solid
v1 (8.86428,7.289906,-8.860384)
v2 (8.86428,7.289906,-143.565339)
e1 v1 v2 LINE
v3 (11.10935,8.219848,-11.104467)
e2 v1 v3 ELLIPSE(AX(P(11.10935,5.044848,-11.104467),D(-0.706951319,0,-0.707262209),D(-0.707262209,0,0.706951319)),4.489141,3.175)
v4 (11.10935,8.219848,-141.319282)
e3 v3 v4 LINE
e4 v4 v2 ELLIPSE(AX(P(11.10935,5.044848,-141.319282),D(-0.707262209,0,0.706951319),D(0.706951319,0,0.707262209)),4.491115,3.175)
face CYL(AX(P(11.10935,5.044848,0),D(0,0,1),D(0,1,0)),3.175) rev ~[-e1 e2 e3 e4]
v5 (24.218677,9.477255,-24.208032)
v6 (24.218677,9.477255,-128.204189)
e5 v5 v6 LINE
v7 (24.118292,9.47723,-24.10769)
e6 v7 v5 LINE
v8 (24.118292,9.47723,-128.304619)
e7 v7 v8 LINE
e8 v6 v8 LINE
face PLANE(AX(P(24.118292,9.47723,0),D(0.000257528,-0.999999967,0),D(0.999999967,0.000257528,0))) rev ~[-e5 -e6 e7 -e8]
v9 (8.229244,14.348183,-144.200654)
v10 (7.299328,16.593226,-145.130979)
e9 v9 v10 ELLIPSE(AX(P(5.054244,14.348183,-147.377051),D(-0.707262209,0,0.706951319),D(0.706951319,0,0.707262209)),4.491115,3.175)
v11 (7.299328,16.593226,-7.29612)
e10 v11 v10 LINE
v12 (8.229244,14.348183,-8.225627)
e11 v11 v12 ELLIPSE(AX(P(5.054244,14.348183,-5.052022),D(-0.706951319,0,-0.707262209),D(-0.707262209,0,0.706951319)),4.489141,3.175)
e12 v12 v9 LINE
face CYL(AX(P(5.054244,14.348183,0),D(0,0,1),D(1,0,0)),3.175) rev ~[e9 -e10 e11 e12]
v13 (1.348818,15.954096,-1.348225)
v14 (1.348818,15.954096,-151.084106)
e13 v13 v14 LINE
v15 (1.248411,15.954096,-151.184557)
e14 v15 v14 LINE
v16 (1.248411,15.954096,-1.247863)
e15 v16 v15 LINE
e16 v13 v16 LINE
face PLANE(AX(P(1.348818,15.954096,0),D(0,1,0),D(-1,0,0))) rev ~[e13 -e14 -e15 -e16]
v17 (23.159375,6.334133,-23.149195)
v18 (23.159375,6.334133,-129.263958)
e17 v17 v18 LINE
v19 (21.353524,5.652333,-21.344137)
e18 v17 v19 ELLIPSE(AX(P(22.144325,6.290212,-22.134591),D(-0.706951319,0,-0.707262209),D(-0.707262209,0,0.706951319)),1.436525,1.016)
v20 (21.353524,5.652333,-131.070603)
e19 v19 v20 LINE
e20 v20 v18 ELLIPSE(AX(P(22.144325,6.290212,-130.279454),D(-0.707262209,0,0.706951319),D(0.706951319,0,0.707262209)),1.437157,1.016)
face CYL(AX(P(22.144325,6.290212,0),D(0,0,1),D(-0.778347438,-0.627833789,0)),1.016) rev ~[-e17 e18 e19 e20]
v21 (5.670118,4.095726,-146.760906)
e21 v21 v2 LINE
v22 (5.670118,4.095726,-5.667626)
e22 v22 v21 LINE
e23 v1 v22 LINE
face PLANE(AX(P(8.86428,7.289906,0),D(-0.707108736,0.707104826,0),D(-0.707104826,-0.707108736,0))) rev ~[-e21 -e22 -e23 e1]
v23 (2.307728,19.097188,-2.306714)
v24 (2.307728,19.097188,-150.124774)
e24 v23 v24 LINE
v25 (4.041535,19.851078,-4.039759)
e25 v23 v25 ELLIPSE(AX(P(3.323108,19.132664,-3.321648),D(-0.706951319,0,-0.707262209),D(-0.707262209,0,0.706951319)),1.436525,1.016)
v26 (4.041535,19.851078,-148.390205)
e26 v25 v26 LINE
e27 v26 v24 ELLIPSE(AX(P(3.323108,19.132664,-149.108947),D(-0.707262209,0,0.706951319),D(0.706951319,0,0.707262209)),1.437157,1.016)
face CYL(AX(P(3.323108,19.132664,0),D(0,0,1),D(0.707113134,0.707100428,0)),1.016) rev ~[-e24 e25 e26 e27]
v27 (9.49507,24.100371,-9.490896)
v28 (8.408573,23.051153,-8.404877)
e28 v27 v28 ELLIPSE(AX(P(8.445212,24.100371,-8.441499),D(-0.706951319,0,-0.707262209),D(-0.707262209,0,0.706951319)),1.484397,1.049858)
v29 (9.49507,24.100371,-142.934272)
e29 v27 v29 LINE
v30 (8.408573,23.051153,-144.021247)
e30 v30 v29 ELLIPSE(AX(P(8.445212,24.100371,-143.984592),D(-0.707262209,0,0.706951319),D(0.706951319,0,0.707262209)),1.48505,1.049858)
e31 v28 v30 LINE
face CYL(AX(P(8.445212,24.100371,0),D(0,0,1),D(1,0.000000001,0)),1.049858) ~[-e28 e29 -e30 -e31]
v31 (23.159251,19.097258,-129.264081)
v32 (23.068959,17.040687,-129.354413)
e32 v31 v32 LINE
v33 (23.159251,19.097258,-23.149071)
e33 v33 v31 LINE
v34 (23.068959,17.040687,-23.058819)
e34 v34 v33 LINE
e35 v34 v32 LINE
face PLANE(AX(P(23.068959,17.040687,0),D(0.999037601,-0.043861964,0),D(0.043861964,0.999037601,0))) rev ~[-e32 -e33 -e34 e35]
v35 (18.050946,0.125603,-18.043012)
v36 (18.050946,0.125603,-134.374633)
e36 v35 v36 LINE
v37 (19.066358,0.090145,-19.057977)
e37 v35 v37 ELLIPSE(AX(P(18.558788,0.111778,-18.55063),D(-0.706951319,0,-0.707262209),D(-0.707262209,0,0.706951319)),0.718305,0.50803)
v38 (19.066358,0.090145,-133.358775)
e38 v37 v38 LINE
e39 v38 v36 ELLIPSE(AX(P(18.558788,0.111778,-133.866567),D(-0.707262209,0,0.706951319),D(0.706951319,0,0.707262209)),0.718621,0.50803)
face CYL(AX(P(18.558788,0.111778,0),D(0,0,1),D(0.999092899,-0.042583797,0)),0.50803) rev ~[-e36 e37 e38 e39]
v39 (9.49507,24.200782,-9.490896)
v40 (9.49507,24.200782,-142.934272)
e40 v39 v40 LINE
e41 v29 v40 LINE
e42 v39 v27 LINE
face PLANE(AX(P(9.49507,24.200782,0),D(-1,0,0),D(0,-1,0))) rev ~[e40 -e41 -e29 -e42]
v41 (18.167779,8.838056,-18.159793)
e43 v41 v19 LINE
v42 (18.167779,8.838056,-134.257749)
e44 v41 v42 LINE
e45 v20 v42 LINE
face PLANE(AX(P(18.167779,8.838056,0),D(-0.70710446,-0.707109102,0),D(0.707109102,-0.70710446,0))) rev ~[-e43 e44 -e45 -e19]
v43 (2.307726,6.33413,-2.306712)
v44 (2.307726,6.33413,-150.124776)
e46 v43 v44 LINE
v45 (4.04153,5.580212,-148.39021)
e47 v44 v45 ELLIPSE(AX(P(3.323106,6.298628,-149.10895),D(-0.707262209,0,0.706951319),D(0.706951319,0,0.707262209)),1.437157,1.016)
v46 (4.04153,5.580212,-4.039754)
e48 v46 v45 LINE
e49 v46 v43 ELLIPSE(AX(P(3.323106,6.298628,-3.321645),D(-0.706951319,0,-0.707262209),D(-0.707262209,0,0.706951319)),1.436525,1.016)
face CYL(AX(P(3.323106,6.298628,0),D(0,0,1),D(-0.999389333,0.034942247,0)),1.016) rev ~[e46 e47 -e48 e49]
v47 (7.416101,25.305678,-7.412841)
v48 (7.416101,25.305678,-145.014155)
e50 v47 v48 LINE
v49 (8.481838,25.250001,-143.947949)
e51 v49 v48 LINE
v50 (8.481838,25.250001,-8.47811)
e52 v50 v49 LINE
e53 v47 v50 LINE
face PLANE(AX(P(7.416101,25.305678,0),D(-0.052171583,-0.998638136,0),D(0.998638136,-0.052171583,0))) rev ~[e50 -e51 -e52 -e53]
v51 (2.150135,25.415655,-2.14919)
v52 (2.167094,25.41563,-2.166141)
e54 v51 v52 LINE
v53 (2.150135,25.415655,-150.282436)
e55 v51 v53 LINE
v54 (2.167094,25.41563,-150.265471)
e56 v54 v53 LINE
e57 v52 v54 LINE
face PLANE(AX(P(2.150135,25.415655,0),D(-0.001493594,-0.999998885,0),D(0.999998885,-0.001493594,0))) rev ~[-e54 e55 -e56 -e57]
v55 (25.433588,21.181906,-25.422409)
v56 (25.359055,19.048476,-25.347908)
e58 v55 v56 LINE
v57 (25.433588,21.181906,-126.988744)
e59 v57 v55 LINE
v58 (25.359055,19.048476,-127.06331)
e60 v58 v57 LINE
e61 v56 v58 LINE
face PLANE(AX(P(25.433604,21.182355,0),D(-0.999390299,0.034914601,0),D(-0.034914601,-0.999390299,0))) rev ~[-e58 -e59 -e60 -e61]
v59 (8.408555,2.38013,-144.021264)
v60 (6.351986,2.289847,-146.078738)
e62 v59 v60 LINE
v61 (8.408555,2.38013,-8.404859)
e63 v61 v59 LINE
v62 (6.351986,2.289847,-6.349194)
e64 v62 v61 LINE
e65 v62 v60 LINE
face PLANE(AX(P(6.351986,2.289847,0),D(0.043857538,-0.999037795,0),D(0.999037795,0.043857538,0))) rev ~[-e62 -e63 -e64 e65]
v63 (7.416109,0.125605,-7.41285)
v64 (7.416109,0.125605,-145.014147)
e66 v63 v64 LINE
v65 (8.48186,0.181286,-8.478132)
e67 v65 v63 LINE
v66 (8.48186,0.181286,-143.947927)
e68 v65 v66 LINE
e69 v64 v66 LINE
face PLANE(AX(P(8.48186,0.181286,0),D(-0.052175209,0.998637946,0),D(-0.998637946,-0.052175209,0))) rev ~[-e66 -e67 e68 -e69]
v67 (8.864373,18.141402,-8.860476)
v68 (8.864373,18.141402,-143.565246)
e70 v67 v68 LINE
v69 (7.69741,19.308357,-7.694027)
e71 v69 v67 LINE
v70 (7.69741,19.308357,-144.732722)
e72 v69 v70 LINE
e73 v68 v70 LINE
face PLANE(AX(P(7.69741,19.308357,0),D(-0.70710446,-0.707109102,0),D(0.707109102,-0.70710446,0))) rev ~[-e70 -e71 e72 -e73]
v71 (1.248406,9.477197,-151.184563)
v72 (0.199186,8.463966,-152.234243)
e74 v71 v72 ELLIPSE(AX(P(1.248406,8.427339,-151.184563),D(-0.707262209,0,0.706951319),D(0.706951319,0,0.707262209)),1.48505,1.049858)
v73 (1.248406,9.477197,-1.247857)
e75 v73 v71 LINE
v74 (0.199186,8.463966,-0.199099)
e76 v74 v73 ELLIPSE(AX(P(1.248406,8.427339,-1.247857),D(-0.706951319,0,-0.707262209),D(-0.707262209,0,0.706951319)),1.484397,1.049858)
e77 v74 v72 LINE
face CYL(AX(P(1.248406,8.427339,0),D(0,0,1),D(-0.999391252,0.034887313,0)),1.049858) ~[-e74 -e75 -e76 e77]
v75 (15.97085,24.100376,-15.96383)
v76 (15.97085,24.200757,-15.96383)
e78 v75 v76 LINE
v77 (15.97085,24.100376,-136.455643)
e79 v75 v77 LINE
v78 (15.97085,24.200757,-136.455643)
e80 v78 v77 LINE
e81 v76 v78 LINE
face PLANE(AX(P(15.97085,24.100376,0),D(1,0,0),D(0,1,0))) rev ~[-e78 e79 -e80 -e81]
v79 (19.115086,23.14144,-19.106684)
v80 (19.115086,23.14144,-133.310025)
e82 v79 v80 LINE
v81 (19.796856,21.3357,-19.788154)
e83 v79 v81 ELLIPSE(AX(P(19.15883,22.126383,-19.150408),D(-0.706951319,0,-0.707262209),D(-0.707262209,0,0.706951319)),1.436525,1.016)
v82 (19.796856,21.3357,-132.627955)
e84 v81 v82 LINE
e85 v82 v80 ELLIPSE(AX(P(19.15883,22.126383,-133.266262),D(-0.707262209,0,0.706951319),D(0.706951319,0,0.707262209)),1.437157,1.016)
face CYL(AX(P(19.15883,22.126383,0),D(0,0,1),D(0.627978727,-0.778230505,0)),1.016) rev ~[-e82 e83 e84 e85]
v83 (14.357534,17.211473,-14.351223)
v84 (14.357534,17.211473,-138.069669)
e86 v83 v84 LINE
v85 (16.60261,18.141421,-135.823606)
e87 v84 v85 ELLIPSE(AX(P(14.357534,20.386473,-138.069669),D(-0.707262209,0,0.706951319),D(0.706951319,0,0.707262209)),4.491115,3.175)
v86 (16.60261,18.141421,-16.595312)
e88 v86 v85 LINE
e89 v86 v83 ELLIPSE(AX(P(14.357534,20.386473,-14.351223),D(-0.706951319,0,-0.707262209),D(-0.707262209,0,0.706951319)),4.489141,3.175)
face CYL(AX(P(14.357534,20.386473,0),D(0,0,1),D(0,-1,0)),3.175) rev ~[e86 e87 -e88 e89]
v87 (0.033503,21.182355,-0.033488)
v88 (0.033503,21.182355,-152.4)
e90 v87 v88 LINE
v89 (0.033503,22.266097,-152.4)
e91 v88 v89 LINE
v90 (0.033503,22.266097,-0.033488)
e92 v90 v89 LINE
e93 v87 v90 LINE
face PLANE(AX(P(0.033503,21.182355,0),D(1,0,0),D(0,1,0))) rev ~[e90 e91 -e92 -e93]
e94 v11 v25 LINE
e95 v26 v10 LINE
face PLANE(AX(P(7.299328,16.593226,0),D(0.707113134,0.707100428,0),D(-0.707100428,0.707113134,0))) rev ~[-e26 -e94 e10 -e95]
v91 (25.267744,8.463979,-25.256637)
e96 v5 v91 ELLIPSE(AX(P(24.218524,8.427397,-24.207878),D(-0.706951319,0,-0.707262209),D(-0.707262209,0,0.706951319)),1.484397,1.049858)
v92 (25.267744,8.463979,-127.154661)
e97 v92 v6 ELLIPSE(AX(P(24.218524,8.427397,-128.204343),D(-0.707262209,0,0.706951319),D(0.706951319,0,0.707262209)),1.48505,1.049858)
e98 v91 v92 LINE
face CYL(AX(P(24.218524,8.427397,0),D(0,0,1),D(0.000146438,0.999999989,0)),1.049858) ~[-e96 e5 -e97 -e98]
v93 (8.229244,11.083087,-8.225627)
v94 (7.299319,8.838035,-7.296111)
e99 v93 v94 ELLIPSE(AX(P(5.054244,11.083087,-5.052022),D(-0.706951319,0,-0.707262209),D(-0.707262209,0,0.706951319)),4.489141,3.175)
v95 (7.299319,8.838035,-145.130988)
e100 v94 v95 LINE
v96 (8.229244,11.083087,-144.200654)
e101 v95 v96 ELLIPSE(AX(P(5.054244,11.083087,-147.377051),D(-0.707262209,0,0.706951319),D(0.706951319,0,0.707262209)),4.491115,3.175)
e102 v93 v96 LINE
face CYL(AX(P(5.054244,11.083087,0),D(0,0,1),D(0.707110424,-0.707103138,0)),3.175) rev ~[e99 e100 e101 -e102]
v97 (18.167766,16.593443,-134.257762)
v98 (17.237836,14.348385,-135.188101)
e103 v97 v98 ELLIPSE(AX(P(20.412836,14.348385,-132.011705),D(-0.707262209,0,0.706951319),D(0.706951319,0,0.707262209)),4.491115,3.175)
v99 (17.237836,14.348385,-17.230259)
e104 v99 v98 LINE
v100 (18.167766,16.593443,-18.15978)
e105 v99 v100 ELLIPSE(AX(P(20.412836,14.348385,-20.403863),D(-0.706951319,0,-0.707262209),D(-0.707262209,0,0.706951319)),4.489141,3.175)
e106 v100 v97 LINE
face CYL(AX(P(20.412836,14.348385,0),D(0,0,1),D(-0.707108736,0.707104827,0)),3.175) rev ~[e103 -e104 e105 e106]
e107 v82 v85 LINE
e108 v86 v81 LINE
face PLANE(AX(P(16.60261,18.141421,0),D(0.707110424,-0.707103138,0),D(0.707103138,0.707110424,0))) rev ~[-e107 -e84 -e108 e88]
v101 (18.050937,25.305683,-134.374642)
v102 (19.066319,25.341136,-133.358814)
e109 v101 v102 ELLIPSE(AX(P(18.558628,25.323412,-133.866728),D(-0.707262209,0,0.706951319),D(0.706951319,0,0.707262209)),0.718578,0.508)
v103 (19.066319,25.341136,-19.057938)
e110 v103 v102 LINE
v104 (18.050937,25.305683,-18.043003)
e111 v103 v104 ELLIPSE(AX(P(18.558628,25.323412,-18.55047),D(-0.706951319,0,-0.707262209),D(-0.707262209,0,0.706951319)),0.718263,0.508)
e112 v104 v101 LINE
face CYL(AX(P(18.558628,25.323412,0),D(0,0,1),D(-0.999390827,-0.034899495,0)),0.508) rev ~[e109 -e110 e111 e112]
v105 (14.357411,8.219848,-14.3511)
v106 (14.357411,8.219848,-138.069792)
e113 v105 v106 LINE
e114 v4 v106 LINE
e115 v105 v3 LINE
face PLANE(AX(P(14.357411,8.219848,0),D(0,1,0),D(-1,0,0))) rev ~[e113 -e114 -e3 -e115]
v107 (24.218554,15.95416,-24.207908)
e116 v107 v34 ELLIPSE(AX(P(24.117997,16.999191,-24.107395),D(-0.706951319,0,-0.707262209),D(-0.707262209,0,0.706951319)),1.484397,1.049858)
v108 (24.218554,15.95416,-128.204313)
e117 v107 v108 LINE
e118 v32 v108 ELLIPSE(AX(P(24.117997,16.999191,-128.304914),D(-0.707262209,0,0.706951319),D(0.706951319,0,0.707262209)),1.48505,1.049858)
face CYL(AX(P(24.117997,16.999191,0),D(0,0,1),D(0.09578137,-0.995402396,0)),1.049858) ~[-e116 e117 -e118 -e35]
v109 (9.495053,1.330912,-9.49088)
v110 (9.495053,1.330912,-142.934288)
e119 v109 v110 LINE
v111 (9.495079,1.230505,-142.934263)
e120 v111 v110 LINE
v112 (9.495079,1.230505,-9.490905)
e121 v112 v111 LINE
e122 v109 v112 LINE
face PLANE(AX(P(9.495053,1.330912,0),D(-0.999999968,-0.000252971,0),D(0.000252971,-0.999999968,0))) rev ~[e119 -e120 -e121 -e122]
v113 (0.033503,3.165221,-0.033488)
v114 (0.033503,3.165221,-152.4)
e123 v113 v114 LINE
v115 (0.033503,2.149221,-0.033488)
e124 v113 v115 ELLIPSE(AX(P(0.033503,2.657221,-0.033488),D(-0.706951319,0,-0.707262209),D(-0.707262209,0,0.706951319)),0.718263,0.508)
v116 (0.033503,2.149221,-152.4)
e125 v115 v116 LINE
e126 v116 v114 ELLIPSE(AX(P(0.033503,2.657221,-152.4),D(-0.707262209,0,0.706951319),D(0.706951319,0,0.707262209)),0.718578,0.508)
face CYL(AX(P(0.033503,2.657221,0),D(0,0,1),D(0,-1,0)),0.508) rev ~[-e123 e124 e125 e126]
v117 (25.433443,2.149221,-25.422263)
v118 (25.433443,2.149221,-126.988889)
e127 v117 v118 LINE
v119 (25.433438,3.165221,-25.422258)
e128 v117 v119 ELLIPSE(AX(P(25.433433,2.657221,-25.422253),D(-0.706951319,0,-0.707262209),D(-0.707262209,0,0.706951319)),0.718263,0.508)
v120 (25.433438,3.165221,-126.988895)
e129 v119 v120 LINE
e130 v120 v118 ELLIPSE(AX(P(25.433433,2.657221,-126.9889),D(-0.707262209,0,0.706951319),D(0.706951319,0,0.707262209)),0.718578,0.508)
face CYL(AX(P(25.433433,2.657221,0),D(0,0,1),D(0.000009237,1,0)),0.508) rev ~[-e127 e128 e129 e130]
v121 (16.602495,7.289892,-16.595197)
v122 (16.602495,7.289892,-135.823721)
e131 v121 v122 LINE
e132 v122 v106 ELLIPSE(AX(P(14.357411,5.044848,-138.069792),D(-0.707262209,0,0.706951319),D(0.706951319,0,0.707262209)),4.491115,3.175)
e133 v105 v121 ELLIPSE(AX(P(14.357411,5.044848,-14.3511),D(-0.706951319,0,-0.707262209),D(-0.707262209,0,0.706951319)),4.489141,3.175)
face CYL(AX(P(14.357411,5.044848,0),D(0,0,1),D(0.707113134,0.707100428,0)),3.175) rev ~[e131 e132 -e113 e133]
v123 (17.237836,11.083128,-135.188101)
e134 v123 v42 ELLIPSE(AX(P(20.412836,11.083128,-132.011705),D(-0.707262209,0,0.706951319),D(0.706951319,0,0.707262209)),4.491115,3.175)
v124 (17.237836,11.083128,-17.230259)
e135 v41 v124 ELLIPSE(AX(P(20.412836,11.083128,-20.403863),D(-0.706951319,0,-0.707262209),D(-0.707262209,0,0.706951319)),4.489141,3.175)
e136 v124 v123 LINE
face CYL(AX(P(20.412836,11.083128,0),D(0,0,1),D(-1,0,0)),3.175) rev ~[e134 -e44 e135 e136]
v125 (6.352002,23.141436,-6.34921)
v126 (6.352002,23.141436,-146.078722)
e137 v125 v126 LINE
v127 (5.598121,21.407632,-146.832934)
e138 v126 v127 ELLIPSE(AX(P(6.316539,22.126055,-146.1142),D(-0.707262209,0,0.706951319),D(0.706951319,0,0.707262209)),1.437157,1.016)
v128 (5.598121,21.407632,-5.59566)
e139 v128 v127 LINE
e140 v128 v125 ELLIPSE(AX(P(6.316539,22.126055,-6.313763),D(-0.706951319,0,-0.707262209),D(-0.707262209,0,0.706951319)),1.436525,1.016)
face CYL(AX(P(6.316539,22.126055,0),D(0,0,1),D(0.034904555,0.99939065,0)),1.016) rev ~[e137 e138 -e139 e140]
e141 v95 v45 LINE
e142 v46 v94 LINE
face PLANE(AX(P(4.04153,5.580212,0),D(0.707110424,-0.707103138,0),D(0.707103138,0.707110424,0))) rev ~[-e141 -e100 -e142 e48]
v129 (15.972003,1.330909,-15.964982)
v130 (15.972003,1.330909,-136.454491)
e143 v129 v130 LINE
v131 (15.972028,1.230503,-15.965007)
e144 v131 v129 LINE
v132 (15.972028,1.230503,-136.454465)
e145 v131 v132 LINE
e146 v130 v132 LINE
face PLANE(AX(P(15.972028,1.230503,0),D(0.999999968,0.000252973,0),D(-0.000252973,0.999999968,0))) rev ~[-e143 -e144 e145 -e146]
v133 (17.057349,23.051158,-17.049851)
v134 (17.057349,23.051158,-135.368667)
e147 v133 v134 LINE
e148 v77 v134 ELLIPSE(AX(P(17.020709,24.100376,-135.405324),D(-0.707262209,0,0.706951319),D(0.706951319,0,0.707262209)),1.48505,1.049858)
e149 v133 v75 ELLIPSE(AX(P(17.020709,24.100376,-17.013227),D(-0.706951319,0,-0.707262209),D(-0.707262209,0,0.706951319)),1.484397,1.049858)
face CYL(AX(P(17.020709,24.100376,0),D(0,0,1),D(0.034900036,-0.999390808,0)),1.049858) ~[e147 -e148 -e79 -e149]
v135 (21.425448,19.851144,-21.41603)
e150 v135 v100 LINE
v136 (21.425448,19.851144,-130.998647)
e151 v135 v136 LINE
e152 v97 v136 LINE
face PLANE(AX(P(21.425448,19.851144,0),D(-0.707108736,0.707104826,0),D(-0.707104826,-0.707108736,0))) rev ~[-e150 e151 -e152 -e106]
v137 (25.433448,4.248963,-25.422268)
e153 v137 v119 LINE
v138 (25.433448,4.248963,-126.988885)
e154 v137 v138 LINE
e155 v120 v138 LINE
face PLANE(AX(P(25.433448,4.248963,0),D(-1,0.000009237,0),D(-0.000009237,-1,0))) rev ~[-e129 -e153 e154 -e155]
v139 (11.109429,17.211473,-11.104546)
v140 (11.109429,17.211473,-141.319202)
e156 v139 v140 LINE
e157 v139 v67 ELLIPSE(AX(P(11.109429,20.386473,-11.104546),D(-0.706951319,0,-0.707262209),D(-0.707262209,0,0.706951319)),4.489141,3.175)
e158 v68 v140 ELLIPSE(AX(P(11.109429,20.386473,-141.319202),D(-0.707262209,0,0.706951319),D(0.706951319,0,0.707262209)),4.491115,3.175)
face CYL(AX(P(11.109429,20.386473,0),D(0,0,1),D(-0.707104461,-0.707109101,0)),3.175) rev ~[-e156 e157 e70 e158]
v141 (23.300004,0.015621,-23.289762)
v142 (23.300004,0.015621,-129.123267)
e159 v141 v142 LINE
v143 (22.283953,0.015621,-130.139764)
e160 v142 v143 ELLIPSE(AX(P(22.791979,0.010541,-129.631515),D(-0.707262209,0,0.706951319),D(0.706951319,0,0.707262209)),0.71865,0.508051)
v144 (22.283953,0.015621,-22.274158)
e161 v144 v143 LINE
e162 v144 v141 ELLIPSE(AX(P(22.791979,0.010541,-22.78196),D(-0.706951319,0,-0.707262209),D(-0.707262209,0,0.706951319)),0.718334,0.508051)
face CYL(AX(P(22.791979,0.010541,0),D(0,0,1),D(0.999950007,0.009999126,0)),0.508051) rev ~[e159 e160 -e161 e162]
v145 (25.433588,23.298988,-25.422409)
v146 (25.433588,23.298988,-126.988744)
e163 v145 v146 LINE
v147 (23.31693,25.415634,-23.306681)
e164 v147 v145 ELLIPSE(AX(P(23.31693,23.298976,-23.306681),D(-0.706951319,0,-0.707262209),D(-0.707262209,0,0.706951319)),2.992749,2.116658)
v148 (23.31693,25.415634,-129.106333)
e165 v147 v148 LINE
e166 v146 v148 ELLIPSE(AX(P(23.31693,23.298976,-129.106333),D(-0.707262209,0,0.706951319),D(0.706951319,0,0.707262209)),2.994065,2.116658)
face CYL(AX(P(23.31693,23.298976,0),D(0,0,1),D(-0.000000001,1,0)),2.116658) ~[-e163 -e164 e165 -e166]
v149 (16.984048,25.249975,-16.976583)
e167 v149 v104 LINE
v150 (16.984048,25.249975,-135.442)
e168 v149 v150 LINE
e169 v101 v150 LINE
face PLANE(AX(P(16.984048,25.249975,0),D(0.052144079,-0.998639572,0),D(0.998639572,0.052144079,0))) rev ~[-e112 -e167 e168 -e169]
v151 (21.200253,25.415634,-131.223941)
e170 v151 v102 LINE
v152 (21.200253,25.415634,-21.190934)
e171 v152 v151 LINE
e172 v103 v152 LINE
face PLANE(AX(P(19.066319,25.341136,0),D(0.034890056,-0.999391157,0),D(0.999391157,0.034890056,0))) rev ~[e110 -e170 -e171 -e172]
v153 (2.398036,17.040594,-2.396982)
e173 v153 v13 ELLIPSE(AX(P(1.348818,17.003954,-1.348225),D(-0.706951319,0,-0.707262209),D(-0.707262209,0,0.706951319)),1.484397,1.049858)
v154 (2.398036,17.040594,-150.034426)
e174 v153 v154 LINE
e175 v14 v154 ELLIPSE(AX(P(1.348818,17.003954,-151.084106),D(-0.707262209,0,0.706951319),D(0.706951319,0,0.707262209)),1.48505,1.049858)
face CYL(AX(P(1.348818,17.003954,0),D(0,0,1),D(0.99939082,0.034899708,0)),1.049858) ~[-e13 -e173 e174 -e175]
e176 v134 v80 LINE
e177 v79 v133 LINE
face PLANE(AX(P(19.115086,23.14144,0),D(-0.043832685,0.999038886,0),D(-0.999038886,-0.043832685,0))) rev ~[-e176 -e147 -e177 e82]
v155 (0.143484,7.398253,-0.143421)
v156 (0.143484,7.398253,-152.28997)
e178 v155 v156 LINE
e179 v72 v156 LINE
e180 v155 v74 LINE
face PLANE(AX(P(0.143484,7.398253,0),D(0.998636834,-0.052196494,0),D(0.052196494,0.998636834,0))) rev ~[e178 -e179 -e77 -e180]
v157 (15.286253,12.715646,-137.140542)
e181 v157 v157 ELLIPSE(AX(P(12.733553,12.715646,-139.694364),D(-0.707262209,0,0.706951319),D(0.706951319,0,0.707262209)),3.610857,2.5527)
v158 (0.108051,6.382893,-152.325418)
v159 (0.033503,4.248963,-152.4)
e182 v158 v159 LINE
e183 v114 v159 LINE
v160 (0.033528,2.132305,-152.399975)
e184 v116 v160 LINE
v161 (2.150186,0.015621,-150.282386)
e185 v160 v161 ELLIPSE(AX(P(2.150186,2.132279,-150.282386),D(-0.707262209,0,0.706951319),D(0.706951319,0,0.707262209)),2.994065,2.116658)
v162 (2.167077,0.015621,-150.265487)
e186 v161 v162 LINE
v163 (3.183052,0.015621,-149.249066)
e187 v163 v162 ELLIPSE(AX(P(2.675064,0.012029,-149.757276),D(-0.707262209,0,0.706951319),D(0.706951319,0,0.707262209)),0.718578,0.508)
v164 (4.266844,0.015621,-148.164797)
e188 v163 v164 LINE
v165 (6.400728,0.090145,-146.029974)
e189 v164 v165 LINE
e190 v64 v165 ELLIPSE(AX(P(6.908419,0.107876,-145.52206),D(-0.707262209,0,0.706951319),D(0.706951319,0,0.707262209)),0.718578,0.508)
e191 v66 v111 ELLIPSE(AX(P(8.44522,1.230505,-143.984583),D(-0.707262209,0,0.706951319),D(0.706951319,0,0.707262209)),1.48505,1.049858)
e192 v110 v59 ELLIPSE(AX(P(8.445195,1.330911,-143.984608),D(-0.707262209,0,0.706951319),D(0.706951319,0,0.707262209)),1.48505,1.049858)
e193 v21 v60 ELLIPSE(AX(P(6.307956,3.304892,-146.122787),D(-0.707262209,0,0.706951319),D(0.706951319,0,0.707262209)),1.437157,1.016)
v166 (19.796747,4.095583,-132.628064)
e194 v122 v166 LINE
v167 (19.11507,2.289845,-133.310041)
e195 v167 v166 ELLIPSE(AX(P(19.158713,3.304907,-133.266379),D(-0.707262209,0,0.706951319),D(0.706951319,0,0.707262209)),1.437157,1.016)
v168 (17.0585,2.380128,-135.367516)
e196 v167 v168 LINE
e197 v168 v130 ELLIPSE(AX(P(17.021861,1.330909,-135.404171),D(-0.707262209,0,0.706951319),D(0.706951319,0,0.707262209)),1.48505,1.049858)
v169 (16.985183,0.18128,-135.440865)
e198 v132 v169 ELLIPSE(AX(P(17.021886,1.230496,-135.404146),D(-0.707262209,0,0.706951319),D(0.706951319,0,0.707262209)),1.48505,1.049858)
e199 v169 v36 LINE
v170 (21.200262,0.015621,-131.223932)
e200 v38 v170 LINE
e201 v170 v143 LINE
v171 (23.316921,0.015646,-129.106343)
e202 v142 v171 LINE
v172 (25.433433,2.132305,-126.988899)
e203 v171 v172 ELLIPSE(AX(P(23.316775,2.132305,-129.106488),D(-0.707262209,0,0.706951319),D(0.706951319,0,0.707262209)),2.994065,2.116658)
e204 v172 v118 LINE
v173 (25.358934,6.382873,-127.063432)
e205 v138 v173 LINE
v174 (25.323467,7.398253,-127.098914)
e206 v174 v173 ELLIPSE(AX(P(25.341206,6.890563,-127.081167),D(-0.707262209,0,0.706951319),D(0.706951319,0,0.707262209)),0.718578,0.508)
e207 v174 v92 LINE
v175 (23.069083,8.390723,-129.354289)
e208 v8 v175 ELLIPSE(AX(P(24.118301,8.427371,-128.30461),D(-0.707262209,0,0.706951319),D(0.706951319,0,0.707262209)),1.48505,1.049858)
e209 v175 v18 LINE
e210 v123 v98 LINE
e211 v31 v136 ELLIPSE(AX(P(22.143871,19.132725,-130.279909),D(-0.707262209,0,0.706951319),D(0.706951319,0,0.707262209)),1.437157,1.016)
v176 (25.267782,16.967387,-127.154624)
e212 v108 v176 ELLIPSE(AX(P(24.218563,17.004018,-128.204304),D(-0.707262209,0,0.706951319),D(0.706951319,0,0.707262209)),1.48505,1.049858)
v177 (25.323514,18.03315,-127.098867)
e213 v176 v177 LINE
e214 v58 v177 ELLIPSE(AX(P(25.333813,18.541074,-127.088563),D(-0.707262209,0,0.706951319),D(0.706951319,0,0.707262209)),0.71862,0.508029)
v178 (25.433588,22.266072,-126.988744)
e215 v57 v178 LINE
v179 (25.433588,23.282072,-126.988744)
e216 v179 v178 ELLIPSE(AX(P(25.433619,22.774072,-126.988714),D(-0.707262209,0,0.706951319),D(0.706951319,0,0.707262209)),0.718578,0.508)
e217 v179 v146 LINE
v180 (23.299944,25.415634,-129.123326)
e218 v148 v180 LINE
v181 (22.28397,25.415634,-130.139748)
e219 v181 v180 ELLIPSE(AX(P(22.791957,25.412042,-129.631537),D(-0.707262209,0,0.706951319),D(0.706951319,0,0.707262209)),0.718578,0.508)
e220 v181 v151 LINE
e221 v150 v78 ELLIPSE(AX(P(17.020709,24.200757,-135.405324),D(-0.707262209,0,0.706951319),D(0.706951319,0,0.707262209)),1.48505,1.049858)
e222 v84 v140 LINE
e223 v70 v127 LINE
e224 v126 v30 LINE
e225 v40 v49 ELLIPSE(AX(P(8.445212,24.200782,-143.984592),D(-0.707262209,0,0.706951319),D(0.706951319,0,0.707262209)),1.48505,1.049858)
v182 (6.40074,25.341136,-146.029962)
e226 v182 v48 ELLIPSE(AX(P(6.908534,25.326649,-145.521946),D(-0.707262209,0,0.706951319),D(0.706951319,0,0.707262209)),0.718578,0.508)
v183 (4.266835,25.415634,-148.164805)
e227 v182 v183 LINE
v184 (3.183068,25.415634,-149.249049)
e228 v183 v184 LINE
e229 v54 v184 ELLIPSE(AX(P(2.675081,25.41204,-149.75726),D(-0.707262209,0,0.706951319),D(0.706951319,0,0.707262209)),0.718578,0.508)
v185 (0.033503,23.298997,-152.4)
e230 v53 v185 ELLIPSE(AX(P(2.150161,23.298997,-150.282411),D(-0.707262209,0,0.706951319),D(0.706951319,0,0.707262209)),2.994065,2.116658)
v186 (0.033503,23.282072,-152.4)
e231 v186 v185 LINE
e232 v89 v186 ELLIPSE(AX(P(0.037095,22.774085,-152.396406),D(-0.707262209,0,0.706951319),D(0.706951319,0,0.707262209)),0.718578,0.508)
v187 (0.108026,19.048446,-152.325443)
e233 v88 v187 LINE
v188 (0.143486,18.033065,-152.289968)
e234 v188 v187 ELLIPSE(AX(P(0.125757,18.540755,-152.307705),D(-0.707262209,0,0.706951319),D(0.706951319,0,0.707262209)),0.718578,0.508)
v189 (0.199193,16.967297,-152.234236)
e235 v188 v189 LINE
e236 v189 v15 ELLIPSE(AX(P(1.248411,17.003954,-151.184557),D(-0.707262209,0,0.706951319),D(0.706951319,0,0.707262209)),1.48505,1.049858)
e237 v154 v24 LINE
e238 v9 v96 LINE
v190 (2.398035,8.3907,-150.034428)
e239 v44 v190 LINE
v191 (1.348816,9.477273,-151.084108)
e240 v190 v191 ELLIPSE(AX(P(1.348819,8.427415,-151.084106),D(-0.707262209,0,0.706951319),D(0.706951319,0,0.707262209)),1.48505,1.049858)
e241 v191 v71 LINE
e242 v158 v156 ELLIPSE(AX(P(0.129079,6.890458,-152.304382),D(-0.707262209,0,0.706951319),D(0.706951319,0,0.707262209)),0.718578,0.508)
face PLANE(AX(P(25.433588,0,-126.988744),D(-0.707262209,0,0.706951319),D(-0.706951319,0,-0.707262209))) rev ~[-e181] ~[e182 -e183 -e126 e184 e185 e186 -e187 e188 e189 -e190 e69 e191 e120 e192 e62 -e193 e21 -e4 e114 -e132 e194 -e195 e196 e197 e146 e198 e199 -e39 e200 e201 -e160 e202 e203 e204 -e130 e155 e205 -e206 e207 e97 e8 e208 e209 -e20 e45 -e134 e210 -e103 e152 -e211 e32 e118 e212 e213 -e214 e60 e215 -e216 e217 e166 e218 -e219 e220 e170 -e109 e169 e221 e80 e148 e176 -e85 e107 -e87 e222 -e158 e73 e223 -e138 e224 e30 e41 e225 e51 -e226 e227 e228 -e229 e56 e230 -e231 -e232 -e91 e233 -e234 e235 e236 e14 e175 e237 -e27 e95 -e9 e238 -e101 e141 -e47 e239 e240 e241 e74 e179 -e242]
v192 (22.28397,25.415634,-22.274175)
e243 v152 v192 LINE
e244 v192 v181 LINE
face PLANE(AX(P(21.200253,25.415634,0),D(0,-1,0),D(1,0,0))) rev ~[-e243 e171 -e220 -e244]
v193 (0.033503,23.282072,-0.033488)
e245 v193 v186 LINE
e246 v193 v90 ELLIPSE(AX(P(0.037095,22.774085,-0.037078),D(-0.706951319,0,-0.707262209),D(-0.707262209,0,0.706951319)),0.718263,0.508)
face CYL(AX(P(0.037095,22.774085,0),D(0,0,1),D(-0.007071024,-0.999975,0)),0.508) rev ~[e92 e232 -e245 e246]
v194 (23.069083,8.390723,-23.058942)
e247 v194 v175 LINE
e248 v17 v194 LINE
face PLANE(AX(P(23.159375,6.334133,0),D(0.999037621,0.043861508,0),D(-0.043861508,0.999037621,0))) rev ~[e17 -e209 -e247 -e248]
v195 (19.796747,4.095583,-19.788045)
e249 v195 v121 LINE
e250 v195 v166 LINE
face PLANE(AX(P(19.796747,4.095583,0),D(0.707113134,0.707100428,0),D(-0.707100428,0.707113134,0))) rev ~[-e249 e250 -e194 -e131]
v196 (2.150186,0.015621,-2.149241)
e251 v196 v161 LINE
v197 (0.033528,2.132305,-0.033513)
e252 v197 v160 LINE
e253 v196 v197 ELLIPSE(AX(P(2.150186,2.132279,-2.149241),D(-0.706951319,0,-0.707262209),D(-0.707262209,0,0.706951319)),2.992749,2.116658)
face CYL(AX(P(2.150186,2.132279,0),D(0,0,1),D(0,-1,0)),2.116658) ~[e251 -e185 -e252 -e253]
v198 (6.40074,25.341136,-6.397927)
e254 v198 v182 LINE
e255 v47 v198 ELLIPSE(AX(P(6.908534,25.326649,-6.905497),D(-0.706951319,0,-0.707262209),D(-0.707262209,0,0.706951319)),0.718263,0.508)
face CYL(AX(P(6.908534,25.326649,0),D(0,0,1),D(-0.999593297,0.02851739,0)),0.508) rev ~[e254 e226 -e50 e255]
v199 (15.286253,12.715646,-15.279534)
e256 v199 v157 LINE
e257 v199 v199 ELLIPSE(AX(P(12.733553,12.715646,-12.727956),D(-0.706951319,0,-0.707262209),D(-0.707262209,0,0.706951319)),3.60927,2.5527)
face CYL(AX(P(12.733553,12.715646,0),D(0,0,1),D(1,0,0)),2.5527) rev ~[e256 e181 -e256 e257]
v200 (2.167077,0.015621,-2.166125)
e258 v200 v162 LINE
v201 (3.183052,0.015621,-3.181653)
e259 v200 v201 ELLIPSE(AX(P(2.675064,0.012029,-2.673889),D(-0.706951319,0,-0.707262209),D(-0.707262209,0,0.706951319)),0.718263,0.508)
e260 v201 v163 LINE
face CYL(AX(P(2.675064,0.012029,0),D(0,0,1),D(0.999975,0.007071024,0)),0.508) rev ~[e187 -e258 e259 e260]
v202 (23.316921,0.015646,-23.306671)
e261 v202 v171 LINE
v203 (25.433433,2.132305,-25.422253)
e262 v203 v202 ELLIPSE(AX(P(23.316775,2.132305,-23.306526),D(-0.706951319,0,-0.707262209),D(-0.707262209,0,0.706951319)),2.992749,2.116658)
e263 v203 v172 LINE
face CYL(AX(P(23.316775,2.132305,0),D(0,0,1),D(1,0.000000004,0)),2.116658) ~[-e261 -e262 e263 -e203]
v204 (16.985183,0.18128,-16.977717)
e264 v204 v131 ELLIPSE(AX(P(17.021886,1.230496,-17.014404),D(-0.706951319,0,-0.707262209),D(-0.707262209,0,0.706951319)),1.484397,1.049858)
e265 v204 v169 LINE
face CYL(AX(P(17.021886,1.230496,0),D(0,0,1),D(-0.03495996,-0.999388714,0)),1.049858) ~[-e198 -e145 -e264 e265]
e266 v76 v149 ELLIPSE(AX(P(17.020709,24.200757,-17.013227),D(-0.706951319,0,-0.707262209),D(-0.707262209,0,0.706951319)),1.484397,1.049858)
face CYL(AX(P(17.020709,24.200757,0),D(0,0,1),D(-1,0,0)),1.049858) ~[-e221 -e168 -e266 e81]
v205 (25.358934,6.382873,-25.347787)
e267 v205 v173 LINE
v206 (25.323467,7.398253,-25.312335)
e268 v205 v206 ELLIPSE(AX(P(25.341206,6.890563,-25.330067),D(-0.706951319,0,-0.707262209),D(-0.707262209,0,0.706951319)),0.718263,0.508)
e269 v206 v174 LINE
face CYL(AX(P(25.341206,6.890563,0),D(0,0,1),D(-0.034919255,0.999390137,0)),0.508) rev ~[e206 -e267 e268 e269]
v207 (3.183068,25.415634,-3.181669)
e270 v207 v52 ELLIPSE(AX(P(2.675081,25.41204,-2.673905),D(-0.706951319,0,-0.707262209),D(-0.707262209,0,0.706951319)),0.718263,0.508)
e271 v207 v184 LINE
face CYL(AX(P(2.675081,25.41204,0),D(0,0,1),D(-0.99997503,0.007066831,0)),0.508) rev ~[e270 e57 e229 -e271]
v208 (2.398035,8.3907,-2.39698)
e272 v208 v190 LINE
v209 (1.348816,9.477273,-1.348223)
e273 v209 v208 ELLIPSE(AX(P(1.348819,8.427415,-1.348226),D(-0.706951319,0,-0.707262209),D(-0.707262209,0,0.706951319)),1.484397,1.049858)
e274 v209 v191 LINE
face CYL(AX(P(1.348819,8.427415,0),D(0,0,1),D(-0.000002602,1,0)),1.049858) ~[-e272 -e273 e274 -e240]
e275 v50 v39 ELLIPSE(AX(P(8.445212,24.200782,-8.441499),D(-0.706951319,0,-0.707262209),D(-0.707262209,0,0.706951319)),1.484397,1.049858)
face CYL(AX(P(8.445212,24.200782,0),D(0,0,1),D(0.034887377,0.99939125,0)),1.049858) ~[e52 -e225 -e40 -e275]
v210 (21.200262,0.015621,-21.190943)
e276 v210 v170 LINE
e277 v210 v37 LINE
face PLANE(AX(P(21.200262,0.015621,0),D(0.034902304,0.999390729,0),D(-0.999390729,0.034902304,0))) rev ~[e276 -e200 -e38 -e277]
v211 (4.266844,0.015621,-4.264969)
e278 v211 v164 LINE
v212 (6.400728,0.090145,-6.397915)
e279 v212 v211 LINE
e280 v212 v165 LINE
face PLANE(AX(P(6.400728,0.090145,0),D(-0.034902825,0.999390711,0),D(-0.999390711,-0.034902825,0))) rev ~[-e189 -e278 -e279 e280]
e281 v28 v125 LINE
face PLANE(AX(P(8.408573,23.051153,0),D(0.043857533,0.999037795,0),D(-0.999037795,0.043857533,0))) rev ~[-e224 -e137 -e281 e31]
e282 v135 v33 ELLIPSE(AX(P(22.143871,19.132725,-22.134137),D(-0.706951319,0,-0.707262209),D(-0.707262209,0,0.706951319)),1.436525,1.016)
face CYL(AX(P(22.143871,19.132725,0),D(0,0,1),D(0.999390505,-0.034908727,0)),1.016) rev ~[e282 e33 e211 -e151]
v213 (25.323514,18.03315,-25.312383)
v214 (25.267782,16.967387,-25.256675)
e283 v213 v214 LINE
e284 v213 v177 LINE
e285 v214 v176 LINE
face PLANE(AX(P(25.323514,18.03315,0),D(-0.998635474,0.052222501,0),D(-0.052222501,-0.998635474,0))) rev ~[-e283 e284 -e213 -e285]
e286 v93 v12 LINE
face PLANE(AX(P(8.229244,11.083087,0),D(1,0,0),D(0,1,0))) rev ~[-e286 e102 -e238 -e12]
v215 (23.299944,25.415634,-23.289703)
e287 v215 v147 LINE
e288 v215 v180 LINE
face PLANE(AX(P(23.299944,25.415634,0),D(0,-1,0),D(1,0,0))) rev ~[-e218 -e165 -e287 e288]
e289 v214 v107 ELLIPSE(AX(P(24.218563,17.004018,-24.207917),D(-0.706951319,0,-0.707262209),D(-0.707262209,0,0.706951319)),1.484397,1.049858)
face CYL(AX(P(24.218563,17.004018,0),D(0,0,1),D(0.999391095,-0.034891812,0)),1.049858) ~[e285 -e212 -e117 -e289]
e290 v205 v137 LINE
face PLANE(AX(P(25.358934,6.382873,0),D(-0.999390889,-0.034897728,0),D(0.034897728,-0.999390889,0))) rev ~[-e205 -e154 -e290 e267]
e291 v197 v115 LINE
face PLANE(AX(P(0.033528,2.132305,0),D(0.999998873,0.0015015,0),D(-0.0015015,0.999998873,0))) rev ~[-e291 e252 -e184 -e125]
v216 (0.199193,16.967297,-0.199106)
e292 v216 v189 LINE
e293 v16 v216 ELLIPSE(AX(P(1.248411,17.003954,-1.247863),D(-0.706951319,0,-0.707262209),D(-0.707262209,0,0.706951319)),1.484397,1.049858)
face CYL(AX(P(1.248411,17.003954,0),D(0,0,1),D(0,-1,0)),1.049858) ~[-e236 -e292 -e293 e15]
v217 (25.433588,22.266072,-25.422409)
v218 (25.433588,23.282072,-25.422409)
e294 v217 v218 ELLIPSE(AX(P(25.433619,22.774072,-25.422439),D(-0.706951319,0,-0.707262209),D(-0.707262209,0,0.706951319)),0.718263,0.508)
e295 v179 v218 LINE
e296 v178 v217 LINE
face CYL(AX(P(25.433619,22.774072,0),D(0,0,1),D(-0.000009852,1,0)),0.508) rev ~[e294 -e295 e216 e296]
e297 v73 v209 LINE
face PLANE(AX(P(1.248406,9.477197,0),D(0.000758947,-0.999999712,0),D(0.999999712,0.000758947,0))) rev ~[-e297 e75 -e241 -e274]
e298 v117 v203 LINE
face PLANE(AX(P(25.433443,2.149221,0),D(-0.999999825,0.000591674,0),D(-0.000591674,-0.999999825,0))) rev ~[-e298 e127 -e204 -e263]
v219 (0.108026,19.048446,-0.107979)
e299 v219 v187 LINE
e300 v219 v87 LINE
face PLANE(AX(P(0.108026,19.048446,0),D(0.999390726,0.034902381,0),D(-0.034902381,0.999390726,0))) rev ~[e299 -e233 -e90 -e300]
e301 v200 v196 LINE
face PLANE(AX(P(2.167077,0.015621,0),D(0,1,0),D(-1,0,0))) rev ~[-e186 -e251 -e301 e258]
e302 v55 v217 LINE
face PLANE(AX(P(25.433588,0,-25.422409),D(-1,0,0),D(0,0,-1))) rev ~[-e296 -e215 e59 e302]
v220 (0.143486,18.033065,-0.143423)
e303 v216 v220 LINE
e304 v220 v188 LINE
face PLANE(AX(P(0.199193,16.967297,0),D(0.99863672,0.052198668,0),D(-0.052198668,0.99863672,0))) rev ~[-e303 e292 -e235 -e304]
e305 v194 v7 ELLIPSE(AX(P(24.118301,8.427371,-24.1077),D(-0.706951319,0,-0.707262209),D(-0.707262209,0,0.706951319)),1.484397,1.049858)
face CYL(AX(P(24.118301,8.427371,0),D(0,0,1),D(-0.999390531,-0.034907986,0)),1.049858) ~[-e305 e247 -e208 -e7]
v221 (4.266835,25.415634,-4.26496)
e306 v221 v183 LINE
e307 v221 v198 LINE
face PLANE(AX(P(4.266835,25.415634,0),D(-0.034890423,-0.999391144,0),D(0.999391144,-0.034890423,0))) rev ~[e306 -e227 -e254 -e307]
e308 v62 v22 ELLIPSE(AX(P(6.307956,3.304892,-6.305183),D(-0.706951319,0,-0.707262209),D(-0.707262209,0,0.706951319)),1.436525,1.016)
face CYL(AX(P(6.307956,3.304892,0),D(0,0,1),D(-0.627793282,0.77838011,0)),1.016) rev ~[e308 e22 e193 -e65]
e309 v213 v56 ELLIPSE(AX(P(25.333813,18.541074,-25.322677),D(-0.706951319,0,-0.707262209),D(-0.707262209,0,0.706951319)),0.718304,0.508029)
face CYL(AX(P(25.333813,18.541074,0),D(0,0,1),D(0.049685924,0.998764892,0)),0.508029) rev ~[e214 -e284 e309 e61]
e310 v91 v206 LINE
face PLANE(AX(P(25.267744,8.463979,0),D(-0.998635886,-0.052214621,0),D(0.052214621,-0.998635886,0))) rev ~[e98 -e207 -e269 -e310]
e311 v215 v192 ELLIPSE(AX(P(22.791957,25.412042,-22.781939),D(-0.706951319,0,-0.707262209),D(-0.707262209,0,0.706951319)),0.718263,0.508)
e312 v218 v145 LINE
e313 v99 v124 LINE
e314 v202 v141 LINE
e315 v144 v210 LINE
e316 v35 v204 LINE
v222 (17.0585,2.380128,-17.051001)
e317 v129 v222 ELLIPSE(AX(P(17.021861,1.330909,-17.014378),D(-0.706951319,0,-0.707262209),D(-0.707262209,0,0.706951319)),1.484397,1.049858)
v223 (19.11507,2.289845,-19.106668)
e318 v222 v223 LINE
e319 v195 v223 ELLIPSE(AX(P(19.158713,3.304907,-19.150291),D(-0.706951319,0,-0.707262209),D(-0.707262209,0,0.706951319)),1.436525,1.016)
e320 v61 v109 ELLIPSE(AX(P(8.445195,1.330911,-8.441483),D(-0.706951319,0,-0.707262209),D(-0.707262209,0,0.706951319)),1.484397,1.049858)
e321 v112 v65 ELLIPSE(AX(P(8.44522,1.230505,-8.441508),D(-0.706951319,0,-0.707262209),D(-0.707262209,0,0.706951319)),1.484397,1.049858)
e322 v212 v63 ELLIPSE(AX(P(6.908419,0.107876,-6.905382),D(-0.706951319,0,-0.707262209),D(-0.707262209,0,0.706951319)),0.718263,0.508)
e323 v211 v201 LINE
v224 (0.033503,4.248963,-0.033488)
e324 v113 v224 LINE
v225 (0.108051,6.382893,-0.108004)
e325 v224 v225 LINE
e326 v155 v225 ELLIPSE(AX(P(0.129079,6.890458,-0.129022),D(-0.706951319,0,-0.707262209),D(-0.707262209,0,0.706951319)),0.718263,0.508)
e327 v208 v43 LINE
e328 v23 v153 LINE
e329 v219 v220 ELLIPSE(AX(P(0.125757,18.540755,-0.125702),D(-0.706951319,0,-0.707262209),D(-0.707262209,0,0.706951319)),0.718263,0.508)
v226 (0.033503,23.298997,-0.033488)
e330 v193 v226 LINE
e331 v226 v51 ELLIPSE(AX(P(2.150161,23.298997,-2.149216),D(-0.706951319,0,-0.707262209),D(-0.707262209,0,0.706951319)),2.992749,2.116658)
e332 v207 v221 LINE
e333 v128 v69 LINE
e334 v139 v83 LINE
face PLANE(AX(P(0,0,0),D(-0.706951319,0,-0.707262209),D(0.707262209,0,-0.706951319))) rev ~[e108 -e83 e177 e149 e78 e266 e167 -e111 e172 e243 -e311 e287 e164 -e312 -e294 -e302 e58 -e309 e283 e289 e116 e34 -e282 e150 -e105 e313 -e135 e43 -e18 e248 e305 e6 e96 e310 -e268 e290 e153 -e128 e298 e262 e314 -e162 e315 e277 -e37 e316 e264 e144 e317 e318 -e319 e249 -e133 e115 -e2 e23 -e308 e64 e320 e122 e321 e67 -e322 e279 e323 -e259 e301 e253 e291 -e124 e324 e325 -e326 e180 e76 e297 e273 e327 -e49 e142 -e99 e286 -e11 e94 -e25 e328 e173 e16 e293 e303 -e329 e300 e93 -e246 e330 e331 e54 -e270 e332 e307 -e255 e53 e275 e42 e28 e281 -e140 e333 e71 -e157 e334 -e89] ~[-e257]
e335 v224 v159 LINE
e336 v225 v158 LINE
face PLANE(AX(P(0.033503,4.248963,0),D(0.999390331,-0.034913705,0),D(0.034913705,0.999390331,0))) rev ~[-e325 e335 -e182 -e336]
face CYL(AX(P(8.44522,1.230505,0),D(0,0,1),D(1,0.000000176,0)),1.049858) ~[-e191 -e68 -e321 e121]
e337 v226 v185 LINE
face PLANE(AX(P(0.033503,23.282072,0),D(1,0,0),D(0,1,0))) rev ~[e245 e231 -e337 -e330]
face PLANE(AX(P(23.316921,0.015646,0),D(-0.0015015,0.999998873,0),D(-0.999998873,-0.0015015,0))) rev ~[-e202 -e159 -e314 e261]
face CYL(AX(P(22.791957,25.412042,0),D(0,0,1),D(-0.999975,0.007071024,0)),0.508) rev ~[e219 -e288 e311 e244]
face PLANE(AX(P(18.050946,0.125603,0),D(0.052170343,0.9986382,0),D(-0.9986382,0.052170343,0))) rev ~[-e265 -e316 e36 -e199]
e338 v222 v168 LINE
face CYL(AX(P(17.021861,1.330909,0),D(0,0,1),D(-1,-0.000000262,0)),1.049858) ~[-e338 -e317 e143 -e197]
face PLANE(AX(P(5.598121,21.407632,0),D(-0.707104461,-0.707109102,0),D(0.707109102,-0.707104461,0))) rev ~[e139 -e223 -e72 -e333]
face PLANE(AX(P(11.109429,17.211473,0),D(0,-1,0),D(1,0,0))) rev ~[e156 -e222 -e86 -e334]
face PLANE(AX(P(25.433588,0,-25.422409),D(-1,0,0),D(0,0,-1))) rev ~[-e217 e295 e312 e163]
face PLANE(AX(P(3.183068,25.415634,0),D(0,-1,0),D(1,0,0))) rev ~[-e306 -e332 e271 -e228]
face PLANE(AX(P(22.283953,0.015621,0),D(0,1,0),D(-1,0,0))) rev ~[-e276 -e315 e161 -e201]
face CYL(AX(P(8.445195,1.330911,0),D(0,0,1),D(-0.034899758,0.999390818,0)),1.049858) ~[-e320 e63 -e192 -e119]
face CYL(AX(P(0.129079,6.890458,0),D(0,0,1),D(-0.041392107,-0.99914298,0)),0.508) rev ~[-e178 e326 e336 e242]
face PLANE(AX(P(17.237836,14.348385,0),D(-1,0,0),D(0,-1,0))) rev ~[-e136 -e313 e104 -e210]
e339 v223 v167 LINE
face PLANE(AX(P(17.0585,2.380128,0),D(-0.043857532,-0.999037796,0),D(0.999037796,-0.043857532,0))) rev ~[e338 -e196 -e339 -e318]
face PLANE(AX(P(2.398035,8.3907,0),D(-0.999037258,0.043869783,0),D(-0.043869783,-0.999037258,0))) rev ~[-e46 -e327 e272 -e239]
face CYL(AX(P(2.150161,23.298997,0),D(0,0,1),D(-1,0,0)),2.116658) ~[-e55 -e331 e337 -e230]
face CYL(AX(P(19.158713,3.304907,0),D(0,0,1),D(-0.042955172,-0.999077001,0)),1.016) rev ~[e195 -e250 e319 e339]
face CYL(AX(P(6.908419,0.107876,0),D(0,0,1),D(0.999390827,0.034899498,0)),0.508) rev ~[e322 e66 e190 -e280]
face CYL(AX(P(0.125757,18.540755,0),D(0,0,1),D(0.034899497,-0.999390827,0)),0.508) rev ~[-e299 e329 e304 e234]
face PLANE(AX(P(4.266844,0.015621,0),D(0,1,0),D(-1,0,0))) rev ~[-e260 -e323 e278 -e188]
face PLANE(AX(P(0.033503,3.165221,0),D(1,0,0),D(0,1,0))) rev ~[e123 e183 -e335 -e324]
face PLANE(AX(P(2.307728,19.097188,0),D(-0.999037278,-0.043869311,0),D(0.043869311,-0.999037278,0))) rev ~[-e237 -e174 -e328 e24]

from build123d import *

# Parameters (mm, degrees)
SKETCH1_R          = 2.5527
EXTRUDE1_DEPTH     = 1219.2
SKETCH2_OUTSIDE_W  = 271.346
SKETCH2_OUTSIDE_H  = 1465.146
CUT_EXTRUDE2_DEPTH = 26.415655275


with BuildPart() as part:
    # Sketch1 → Extrude1 (new body)
    with BuildSketch(Plane.XY):
        with BuildLine():
            Line((25.433443131, 2.149221002), (25.433433122, 2.132304602))
            ThreePointArc((25.433433122, 2.132304602), (24.81352977, 0.635652711), (23.316920529, 0.0156464))
            Line((23.316920529, 0.0156464), (23.300004129, 0.015621))
            ThreePointArc((23.300004129, 0.015621), (22.791978729, 0.518591735), (22.283953329, 0.015621))
            Line((22.283953329, 0.015621), (21.200262329, 0.015621))
            Line((21.200262329, 0.015621), (19.066357529, 0.0901446))
            ThreePointArc((19.066357529, 0.0901446), (18.57651791, 0.619499034), (18.050946389, 0.125602744))
            Line((18.050946389, 0.125602744), (16.985183129, 0.1812798))
            ThreePointArc((16.985183129, 0.1812798), (16.266656931, 0.501228728), (15.972027929, 1.230503))
            Line((15.972027929, 1.230503), (15.972002529, 1.330908925))
            ThreePointArc((15.972002529, 1.330908925), (16.292567692, 2.086113746), (17.058499831, 2.380127869))
            Line((17.058499831, 2.380127869), (19.115070367, 2.28984489))
            ThreePointArc((19.115070367, 2.28984489), (20.109237927, 2.946078438), (19.79674691, 4.095583101))
            Line((19.79674691, 4.095583101), (16.602495326, 7.289892083))
            ThreePointArc((16.602495326, 7.289892083), (15.5724442, 7.978160281), (14.357411125, 8.219848224))
            Line((14.357411125, 8.219848224), (12.733578665, 8.219848224))
            Line((12.733578665, 8.219848224), (11.109350265, 8.219848224))
            ThreePointArc((11.109350265, 8.219848224), (9.894326313, 7.97816406), (8.864280029, 7.289906048))
            Line((8.864280029, 7.289906048), (5.670118065, 4.095726424))
            ThreePointArc((5.670118065, 4.095726424), (5.357454926, 2.946), (6.351985959, 2.289846732))
            Line((6.351985959, 2.289846732), (8.408555268, 2.380129669))
            ThreePointArc((8.408555268, 2.380129669), (9.174487549, 2.086116104), (9.495053265, 1.330911592))
            Line((9.495053265, 1.330911592), (9.495078665, 1.230505007))
            ThreePointArc((9.495078665, 1.230505007), (9.200425317, 0.501212103), (8.481859988, 0.181286169))
            Line((8.481859988, 0.181286169), (7.416109406, 0.125604568))
            ThreePointArc((7.416109406, 0.125604568), (6.890689076, 0.615566134), (6.400728384, 0.090144989))
            Line((6.400728384, 0.090144989), (4.266844329, 0.015621))
            Line((4.266844329, 0.015621), (3.183051729, 0.015621))
            ThreePointArc((3.183051729, 0.015621), (2.675064429, 0.52002892), (2.167077129, 0.015621))
            Line((2.167077129, 0.015621), (2.150186129, 0.015621))
            ThreePointArc((2.150186129, 0.015621), (0.653473782, 0.635584814), (0.033527929, 2.1323046))
            Line((0.033527929, 2.1323046), (0.033502529, 2.149221))
            ThreePointArc((0.033502529, 2.149221), (0.541502529, 2.657221), (0.033502529, 3.165221))
            Line((0.033502529, 3.165221), (0.033502529, 4.2489628))
            Line((0.033502529, 4.2489628), (0.108051389, 6.382893005))
            ThreePointArc((0.108051389, 6.382893005), (0.636769546, 6.872740923), (0.143484067, 7.398253347))
            Line((0.143484067, 7.398253347), (0.199186453, 8.463965811))
            ThreePointArc((0.199186453, 8.463965811), (0.519108205, 9.182539461), (1.248405666, 9.47719728))
            Line((1.248405666, 9.47719728), (1.348815787, 9.477273486))
            ThreePointArc((1.348815787, 9.477273486), (2.104048619, 9.15668186), (2.398034533, 8.3907002))
            Line((2.398034533, 8.3907002), (2.307726292, 6.334129777))
            ThreePointArc((2.307726292, 6.334129777), (2.917959272, 5.36690304), (4.041530045, 5.580211665))
            Line((4.041530045, 5.580211665), (7.299319478, 8.838034664))
            ThreePointArc((7.299319478, 8.838034664), (7.987564527, 9.868074786), (8.229243882, 11.083087128))
            Line((8.229243882, 11.083087128), (8.229243882, 12.715595928))
            Line((8.229243882, 12.715595928), (8.229243882, 14.348182637))
            ThreePointArc((8.229243882, 14.348182637), (7.987566856, 15.563189358), (7.299328083, 16.593226497))
            Line((7.299328083, 16.593226497), (4.041535389, 19.85107773))
            ThreePointArc((4.041535389, 19.85107773), (2.917975571, 20.06439507), (2.307727974, 19.09718836))
            Line((2.307727974, 19.09718836), (2.398036312, 17.040593596))
            ThreePointArc((2.398036312, 17.040593596), (2.10402253, 16.274661146), (1.348817665, 15.954095654))
            Line((1.348817665, 15.954095654), (1.248411465, 15.954095654))
            ThreePointArc((1.248411465, 15.954095654), (0.519124814, 16.248743141), (0.199193406, 16.967297282))
            Line((0.199193406, 16.967297282), (0.14348581, 18.033064914))
            ThreePointArc((0.14348581, 18.033064914), (0.63344738, 18.558485131), (0.108026456, 19.048445943))
            Line((0.108026456, 19.048445943), (0.033502529, 21.1823554))
            Line((0.033502529, 21.1823554), (0.033502529, 22.2660972))
            ThreePointArc((0.033502529, 22.2660972), (0.545094609, 22.7740845), (0.033502529, 23.2820718))
            Line((0.033502529, 23.2820718), (0.033502529, 23.298997075))
            ThreePointArc((0.033502529, 23.298997075), (0.653448354, 24.795691433), (2.15013525, 25.415655275))
            Line((2.15013525, 25.415655275), (2.167093654, 25.415629946))
            ThreePointArc((2.167093654, 25.415629946), (2.675083099, 24.904039996), (3.183068254, 25.415634206))
            Line((3.183068254, 25.415634206), (4.266835454, 25.415634206))
            Line((4.266835454, 25.415634206), (6.400740254, 25.341136006))
            ThreePointArc((6.400740254, 25.341136006), (6.890804215, 24.818958649), (7.416100594, 25.305677862))
            Line((7.416100594, 25.305677862), (8.481838454, 25.250000806))
            ThreePointArc((8.481838454, 25.250000806), (9.200412021, 24.930079072), (9.495069854, 24.200781707))
            Line((9.495069854, 24.200781707), (9.495069854, 24.100371406))
            ThreePointArc((9.495069854, 24.100371406), (9.174504645, 23.345166815), (8.408572699, 23.051152732))
            Line((8.408572699, 23.051152732), (6.352002282, 23.141435707))
            ThreePointArc((6.352002282, 23.141435707), (5.384806579, 22.531184689), (5.598121123, 21.407631959))
            Line((5.598121123, 21.407631959), (7.697410254, 19.308356606))
            Line((7.697410254, 19.308356606), (8.864372763, 18.141401758))
            ThreePointArc((8.864372763, 18.141401758), (9.894414341, 17.453153646), (11.109429425, 17.211473156))
            Line((11.109429425, 17.211473156), (12.733581625, 17.211473156))
            Line((12.733581625, 17.211473156), (14.357534054, 17.211473156))
            ThreePointArc((14.357534054, 17.211473156), (15.572561508, 17.45315877), (16.60260965, 18.141420692))
            Line((16.60260965, 18.141420692), (19.796856475, 21.335700428))
            ThreePointArc((19.796856475, 21.335700428), (20.109338963, 22.485254296), (19.115085927, 23.141440475))
            Line((19.115085927, 23.141440475), (17.057348777, 23.051157558))
            ThreePointArc((17.057348777, 23.051157558), (16.291416105, 23.345171208), (15.970850487, 24.100376193))
            Line((15.970850487, 24.100376193), (15.970850487, 24.200756993))
            ThreePointArc((15.970850487, 24.200756993), (16.265496714, 24.930042339), (16.98404849, 25.249974926))
            Line((16.98404849, 25.249974926), (18.050937347, 25.305682649))
            ThreePointArc((18.050937347, 25.305682649), (18.576354433, 24.815720969), (19.066318594, 25.341135742))
            Line((19.066318594, 25.341135742), (21.200253454, 25.415634206))
            Line((21.200253454, 25.415634206), (22.283969854, 25.415634206))
            ThreePointArc((22.283969854, 25.415634206), (22.791957154, 24.904042126), (23.299944454, 25.415634206))
            Line((23.299944454, 25.415634206), (23.316930297, 25.415634206))
            ThreePointArc((23.316930297, 25.415634206), (24.813629353, 24.795683684), (25.433588497, 23.2989882))
            Line((25.433588497, 23.2989882), (25.433613897, 23.2820718))
            ThreePointArc((25.433613897, 23.2820718), (24.925618902, 22.774071644), (25.43361421, 22.2660718))
            Line((25.43361421, 22.2660718), (25.4336042, 21.1823554))
            Line((25.4336042, 21.1823554), (25.3590552, 19.048476))
            ThreePointArc((25.3590552, 19.048476), (24.826095097, 18.558846649), (25.323514364, 18.033149546))
            Line((25.323514364, 18.033149546), (25.267781506, 16.967386543))
            ThreePointArc((25.267781506, 16.967386543), (24.947855109, 16.248812971), (24.21855381, 15.954159797))
            ThreePointArc((24.21855381, 15.954159797), (23.396859234, 16.236195338), (23.068959156, 17.040687453))
            Line((23.068959156, 17.040687453), (23.159251265, 19.097257735))
            ThreePointArc((23.159251265, 19.097257735), (22.549002581, 20.064456727), (21.425448036, 19.851143506))
            Line((21.425448036, 19.851143506), (18.167765516, 16.593442973))
            ThreePointArc((18.167765516, 16.593442973), (17.479516557, 15.563400992), (17.237835752, 14.348385149))
            Line((17.237835752, 14.348385149), (17.237835752, 12.715636694))
            Line((17.237835752, 12.715636694), (17.237835752, 11.083127894))
            ThreePointArc((17.237835752, 11.083127894), (17.47952023, 9.868103183), (18.16777909, 8.838056496))
            Line((18.16777909, 8.838056496), (21.353523773, 5.652332724))
            ThreePointArc((21.353523773, 5.652332724), (22.503190772, 5.339700837), (23.159374985, 6.334132928))
            Line((23.159374985, 6.334132928), (23.069082951, 8.390722922))
            ThreePointArc((23.069082951, 8.390722922), (23.363090217, 9.15665763), (24.118292102, 9.477229556))
            Line((24.118292102, 9.477229556), (24.218677373, 9.477255408))
            ThreePointArc((24.218677373, 9.477255408), (24.94789253, 9.182528501), (25.267744306, 8.463978895))
            Line((25.267744306, 8.463978895), (25.323466772, 7.398253367))
            ThreePointArc((25.323466772, 7.398253367), (24.833515373, 6.872829664), (25.358933799, 6.382872606))
            Line((25.358933799, 6.382872606), (25.43344779, 4.248962801))
            Line((25.43344779, 4.248962801), (25.43343778, 3.165221001))
            ThreePointArc((25.43343778, 3.165221001), (24.925433088, 2.657218326), (25.433443131, 2.149221002))
        make_face()
        with Locations((12.7335534, 12.7156464)):
            Circle(SKETCH1_R, mode=Mode.SUBTRACT)
    extrude(amount=-EXTRUDE1_DEPTH)

    # Sketch2 outside → Cut-Extrude2 (cut, through all)
    with BuildSketch(Plane(origin=(0, 0, 0), x_dir=(1, 0, 0), z_dir=(0, 1, 0))):
        with Locations((12.734, 609.6)):
            Rectangle(SKETCH2_OUTSIDE_W, SKETCH2_OUTSIDE_H)
        Polygon((0, 0), (25.433588497, 25.422408678), (25.433588497, 126.988744029), (0.033502529, 152.4), align=None, mode=Mode.SUBTRACT)
    extrude(amount=CUT_EXTRUDE2_DEPTH, mode=Mode.SUBTRACT)


solid = part.part
